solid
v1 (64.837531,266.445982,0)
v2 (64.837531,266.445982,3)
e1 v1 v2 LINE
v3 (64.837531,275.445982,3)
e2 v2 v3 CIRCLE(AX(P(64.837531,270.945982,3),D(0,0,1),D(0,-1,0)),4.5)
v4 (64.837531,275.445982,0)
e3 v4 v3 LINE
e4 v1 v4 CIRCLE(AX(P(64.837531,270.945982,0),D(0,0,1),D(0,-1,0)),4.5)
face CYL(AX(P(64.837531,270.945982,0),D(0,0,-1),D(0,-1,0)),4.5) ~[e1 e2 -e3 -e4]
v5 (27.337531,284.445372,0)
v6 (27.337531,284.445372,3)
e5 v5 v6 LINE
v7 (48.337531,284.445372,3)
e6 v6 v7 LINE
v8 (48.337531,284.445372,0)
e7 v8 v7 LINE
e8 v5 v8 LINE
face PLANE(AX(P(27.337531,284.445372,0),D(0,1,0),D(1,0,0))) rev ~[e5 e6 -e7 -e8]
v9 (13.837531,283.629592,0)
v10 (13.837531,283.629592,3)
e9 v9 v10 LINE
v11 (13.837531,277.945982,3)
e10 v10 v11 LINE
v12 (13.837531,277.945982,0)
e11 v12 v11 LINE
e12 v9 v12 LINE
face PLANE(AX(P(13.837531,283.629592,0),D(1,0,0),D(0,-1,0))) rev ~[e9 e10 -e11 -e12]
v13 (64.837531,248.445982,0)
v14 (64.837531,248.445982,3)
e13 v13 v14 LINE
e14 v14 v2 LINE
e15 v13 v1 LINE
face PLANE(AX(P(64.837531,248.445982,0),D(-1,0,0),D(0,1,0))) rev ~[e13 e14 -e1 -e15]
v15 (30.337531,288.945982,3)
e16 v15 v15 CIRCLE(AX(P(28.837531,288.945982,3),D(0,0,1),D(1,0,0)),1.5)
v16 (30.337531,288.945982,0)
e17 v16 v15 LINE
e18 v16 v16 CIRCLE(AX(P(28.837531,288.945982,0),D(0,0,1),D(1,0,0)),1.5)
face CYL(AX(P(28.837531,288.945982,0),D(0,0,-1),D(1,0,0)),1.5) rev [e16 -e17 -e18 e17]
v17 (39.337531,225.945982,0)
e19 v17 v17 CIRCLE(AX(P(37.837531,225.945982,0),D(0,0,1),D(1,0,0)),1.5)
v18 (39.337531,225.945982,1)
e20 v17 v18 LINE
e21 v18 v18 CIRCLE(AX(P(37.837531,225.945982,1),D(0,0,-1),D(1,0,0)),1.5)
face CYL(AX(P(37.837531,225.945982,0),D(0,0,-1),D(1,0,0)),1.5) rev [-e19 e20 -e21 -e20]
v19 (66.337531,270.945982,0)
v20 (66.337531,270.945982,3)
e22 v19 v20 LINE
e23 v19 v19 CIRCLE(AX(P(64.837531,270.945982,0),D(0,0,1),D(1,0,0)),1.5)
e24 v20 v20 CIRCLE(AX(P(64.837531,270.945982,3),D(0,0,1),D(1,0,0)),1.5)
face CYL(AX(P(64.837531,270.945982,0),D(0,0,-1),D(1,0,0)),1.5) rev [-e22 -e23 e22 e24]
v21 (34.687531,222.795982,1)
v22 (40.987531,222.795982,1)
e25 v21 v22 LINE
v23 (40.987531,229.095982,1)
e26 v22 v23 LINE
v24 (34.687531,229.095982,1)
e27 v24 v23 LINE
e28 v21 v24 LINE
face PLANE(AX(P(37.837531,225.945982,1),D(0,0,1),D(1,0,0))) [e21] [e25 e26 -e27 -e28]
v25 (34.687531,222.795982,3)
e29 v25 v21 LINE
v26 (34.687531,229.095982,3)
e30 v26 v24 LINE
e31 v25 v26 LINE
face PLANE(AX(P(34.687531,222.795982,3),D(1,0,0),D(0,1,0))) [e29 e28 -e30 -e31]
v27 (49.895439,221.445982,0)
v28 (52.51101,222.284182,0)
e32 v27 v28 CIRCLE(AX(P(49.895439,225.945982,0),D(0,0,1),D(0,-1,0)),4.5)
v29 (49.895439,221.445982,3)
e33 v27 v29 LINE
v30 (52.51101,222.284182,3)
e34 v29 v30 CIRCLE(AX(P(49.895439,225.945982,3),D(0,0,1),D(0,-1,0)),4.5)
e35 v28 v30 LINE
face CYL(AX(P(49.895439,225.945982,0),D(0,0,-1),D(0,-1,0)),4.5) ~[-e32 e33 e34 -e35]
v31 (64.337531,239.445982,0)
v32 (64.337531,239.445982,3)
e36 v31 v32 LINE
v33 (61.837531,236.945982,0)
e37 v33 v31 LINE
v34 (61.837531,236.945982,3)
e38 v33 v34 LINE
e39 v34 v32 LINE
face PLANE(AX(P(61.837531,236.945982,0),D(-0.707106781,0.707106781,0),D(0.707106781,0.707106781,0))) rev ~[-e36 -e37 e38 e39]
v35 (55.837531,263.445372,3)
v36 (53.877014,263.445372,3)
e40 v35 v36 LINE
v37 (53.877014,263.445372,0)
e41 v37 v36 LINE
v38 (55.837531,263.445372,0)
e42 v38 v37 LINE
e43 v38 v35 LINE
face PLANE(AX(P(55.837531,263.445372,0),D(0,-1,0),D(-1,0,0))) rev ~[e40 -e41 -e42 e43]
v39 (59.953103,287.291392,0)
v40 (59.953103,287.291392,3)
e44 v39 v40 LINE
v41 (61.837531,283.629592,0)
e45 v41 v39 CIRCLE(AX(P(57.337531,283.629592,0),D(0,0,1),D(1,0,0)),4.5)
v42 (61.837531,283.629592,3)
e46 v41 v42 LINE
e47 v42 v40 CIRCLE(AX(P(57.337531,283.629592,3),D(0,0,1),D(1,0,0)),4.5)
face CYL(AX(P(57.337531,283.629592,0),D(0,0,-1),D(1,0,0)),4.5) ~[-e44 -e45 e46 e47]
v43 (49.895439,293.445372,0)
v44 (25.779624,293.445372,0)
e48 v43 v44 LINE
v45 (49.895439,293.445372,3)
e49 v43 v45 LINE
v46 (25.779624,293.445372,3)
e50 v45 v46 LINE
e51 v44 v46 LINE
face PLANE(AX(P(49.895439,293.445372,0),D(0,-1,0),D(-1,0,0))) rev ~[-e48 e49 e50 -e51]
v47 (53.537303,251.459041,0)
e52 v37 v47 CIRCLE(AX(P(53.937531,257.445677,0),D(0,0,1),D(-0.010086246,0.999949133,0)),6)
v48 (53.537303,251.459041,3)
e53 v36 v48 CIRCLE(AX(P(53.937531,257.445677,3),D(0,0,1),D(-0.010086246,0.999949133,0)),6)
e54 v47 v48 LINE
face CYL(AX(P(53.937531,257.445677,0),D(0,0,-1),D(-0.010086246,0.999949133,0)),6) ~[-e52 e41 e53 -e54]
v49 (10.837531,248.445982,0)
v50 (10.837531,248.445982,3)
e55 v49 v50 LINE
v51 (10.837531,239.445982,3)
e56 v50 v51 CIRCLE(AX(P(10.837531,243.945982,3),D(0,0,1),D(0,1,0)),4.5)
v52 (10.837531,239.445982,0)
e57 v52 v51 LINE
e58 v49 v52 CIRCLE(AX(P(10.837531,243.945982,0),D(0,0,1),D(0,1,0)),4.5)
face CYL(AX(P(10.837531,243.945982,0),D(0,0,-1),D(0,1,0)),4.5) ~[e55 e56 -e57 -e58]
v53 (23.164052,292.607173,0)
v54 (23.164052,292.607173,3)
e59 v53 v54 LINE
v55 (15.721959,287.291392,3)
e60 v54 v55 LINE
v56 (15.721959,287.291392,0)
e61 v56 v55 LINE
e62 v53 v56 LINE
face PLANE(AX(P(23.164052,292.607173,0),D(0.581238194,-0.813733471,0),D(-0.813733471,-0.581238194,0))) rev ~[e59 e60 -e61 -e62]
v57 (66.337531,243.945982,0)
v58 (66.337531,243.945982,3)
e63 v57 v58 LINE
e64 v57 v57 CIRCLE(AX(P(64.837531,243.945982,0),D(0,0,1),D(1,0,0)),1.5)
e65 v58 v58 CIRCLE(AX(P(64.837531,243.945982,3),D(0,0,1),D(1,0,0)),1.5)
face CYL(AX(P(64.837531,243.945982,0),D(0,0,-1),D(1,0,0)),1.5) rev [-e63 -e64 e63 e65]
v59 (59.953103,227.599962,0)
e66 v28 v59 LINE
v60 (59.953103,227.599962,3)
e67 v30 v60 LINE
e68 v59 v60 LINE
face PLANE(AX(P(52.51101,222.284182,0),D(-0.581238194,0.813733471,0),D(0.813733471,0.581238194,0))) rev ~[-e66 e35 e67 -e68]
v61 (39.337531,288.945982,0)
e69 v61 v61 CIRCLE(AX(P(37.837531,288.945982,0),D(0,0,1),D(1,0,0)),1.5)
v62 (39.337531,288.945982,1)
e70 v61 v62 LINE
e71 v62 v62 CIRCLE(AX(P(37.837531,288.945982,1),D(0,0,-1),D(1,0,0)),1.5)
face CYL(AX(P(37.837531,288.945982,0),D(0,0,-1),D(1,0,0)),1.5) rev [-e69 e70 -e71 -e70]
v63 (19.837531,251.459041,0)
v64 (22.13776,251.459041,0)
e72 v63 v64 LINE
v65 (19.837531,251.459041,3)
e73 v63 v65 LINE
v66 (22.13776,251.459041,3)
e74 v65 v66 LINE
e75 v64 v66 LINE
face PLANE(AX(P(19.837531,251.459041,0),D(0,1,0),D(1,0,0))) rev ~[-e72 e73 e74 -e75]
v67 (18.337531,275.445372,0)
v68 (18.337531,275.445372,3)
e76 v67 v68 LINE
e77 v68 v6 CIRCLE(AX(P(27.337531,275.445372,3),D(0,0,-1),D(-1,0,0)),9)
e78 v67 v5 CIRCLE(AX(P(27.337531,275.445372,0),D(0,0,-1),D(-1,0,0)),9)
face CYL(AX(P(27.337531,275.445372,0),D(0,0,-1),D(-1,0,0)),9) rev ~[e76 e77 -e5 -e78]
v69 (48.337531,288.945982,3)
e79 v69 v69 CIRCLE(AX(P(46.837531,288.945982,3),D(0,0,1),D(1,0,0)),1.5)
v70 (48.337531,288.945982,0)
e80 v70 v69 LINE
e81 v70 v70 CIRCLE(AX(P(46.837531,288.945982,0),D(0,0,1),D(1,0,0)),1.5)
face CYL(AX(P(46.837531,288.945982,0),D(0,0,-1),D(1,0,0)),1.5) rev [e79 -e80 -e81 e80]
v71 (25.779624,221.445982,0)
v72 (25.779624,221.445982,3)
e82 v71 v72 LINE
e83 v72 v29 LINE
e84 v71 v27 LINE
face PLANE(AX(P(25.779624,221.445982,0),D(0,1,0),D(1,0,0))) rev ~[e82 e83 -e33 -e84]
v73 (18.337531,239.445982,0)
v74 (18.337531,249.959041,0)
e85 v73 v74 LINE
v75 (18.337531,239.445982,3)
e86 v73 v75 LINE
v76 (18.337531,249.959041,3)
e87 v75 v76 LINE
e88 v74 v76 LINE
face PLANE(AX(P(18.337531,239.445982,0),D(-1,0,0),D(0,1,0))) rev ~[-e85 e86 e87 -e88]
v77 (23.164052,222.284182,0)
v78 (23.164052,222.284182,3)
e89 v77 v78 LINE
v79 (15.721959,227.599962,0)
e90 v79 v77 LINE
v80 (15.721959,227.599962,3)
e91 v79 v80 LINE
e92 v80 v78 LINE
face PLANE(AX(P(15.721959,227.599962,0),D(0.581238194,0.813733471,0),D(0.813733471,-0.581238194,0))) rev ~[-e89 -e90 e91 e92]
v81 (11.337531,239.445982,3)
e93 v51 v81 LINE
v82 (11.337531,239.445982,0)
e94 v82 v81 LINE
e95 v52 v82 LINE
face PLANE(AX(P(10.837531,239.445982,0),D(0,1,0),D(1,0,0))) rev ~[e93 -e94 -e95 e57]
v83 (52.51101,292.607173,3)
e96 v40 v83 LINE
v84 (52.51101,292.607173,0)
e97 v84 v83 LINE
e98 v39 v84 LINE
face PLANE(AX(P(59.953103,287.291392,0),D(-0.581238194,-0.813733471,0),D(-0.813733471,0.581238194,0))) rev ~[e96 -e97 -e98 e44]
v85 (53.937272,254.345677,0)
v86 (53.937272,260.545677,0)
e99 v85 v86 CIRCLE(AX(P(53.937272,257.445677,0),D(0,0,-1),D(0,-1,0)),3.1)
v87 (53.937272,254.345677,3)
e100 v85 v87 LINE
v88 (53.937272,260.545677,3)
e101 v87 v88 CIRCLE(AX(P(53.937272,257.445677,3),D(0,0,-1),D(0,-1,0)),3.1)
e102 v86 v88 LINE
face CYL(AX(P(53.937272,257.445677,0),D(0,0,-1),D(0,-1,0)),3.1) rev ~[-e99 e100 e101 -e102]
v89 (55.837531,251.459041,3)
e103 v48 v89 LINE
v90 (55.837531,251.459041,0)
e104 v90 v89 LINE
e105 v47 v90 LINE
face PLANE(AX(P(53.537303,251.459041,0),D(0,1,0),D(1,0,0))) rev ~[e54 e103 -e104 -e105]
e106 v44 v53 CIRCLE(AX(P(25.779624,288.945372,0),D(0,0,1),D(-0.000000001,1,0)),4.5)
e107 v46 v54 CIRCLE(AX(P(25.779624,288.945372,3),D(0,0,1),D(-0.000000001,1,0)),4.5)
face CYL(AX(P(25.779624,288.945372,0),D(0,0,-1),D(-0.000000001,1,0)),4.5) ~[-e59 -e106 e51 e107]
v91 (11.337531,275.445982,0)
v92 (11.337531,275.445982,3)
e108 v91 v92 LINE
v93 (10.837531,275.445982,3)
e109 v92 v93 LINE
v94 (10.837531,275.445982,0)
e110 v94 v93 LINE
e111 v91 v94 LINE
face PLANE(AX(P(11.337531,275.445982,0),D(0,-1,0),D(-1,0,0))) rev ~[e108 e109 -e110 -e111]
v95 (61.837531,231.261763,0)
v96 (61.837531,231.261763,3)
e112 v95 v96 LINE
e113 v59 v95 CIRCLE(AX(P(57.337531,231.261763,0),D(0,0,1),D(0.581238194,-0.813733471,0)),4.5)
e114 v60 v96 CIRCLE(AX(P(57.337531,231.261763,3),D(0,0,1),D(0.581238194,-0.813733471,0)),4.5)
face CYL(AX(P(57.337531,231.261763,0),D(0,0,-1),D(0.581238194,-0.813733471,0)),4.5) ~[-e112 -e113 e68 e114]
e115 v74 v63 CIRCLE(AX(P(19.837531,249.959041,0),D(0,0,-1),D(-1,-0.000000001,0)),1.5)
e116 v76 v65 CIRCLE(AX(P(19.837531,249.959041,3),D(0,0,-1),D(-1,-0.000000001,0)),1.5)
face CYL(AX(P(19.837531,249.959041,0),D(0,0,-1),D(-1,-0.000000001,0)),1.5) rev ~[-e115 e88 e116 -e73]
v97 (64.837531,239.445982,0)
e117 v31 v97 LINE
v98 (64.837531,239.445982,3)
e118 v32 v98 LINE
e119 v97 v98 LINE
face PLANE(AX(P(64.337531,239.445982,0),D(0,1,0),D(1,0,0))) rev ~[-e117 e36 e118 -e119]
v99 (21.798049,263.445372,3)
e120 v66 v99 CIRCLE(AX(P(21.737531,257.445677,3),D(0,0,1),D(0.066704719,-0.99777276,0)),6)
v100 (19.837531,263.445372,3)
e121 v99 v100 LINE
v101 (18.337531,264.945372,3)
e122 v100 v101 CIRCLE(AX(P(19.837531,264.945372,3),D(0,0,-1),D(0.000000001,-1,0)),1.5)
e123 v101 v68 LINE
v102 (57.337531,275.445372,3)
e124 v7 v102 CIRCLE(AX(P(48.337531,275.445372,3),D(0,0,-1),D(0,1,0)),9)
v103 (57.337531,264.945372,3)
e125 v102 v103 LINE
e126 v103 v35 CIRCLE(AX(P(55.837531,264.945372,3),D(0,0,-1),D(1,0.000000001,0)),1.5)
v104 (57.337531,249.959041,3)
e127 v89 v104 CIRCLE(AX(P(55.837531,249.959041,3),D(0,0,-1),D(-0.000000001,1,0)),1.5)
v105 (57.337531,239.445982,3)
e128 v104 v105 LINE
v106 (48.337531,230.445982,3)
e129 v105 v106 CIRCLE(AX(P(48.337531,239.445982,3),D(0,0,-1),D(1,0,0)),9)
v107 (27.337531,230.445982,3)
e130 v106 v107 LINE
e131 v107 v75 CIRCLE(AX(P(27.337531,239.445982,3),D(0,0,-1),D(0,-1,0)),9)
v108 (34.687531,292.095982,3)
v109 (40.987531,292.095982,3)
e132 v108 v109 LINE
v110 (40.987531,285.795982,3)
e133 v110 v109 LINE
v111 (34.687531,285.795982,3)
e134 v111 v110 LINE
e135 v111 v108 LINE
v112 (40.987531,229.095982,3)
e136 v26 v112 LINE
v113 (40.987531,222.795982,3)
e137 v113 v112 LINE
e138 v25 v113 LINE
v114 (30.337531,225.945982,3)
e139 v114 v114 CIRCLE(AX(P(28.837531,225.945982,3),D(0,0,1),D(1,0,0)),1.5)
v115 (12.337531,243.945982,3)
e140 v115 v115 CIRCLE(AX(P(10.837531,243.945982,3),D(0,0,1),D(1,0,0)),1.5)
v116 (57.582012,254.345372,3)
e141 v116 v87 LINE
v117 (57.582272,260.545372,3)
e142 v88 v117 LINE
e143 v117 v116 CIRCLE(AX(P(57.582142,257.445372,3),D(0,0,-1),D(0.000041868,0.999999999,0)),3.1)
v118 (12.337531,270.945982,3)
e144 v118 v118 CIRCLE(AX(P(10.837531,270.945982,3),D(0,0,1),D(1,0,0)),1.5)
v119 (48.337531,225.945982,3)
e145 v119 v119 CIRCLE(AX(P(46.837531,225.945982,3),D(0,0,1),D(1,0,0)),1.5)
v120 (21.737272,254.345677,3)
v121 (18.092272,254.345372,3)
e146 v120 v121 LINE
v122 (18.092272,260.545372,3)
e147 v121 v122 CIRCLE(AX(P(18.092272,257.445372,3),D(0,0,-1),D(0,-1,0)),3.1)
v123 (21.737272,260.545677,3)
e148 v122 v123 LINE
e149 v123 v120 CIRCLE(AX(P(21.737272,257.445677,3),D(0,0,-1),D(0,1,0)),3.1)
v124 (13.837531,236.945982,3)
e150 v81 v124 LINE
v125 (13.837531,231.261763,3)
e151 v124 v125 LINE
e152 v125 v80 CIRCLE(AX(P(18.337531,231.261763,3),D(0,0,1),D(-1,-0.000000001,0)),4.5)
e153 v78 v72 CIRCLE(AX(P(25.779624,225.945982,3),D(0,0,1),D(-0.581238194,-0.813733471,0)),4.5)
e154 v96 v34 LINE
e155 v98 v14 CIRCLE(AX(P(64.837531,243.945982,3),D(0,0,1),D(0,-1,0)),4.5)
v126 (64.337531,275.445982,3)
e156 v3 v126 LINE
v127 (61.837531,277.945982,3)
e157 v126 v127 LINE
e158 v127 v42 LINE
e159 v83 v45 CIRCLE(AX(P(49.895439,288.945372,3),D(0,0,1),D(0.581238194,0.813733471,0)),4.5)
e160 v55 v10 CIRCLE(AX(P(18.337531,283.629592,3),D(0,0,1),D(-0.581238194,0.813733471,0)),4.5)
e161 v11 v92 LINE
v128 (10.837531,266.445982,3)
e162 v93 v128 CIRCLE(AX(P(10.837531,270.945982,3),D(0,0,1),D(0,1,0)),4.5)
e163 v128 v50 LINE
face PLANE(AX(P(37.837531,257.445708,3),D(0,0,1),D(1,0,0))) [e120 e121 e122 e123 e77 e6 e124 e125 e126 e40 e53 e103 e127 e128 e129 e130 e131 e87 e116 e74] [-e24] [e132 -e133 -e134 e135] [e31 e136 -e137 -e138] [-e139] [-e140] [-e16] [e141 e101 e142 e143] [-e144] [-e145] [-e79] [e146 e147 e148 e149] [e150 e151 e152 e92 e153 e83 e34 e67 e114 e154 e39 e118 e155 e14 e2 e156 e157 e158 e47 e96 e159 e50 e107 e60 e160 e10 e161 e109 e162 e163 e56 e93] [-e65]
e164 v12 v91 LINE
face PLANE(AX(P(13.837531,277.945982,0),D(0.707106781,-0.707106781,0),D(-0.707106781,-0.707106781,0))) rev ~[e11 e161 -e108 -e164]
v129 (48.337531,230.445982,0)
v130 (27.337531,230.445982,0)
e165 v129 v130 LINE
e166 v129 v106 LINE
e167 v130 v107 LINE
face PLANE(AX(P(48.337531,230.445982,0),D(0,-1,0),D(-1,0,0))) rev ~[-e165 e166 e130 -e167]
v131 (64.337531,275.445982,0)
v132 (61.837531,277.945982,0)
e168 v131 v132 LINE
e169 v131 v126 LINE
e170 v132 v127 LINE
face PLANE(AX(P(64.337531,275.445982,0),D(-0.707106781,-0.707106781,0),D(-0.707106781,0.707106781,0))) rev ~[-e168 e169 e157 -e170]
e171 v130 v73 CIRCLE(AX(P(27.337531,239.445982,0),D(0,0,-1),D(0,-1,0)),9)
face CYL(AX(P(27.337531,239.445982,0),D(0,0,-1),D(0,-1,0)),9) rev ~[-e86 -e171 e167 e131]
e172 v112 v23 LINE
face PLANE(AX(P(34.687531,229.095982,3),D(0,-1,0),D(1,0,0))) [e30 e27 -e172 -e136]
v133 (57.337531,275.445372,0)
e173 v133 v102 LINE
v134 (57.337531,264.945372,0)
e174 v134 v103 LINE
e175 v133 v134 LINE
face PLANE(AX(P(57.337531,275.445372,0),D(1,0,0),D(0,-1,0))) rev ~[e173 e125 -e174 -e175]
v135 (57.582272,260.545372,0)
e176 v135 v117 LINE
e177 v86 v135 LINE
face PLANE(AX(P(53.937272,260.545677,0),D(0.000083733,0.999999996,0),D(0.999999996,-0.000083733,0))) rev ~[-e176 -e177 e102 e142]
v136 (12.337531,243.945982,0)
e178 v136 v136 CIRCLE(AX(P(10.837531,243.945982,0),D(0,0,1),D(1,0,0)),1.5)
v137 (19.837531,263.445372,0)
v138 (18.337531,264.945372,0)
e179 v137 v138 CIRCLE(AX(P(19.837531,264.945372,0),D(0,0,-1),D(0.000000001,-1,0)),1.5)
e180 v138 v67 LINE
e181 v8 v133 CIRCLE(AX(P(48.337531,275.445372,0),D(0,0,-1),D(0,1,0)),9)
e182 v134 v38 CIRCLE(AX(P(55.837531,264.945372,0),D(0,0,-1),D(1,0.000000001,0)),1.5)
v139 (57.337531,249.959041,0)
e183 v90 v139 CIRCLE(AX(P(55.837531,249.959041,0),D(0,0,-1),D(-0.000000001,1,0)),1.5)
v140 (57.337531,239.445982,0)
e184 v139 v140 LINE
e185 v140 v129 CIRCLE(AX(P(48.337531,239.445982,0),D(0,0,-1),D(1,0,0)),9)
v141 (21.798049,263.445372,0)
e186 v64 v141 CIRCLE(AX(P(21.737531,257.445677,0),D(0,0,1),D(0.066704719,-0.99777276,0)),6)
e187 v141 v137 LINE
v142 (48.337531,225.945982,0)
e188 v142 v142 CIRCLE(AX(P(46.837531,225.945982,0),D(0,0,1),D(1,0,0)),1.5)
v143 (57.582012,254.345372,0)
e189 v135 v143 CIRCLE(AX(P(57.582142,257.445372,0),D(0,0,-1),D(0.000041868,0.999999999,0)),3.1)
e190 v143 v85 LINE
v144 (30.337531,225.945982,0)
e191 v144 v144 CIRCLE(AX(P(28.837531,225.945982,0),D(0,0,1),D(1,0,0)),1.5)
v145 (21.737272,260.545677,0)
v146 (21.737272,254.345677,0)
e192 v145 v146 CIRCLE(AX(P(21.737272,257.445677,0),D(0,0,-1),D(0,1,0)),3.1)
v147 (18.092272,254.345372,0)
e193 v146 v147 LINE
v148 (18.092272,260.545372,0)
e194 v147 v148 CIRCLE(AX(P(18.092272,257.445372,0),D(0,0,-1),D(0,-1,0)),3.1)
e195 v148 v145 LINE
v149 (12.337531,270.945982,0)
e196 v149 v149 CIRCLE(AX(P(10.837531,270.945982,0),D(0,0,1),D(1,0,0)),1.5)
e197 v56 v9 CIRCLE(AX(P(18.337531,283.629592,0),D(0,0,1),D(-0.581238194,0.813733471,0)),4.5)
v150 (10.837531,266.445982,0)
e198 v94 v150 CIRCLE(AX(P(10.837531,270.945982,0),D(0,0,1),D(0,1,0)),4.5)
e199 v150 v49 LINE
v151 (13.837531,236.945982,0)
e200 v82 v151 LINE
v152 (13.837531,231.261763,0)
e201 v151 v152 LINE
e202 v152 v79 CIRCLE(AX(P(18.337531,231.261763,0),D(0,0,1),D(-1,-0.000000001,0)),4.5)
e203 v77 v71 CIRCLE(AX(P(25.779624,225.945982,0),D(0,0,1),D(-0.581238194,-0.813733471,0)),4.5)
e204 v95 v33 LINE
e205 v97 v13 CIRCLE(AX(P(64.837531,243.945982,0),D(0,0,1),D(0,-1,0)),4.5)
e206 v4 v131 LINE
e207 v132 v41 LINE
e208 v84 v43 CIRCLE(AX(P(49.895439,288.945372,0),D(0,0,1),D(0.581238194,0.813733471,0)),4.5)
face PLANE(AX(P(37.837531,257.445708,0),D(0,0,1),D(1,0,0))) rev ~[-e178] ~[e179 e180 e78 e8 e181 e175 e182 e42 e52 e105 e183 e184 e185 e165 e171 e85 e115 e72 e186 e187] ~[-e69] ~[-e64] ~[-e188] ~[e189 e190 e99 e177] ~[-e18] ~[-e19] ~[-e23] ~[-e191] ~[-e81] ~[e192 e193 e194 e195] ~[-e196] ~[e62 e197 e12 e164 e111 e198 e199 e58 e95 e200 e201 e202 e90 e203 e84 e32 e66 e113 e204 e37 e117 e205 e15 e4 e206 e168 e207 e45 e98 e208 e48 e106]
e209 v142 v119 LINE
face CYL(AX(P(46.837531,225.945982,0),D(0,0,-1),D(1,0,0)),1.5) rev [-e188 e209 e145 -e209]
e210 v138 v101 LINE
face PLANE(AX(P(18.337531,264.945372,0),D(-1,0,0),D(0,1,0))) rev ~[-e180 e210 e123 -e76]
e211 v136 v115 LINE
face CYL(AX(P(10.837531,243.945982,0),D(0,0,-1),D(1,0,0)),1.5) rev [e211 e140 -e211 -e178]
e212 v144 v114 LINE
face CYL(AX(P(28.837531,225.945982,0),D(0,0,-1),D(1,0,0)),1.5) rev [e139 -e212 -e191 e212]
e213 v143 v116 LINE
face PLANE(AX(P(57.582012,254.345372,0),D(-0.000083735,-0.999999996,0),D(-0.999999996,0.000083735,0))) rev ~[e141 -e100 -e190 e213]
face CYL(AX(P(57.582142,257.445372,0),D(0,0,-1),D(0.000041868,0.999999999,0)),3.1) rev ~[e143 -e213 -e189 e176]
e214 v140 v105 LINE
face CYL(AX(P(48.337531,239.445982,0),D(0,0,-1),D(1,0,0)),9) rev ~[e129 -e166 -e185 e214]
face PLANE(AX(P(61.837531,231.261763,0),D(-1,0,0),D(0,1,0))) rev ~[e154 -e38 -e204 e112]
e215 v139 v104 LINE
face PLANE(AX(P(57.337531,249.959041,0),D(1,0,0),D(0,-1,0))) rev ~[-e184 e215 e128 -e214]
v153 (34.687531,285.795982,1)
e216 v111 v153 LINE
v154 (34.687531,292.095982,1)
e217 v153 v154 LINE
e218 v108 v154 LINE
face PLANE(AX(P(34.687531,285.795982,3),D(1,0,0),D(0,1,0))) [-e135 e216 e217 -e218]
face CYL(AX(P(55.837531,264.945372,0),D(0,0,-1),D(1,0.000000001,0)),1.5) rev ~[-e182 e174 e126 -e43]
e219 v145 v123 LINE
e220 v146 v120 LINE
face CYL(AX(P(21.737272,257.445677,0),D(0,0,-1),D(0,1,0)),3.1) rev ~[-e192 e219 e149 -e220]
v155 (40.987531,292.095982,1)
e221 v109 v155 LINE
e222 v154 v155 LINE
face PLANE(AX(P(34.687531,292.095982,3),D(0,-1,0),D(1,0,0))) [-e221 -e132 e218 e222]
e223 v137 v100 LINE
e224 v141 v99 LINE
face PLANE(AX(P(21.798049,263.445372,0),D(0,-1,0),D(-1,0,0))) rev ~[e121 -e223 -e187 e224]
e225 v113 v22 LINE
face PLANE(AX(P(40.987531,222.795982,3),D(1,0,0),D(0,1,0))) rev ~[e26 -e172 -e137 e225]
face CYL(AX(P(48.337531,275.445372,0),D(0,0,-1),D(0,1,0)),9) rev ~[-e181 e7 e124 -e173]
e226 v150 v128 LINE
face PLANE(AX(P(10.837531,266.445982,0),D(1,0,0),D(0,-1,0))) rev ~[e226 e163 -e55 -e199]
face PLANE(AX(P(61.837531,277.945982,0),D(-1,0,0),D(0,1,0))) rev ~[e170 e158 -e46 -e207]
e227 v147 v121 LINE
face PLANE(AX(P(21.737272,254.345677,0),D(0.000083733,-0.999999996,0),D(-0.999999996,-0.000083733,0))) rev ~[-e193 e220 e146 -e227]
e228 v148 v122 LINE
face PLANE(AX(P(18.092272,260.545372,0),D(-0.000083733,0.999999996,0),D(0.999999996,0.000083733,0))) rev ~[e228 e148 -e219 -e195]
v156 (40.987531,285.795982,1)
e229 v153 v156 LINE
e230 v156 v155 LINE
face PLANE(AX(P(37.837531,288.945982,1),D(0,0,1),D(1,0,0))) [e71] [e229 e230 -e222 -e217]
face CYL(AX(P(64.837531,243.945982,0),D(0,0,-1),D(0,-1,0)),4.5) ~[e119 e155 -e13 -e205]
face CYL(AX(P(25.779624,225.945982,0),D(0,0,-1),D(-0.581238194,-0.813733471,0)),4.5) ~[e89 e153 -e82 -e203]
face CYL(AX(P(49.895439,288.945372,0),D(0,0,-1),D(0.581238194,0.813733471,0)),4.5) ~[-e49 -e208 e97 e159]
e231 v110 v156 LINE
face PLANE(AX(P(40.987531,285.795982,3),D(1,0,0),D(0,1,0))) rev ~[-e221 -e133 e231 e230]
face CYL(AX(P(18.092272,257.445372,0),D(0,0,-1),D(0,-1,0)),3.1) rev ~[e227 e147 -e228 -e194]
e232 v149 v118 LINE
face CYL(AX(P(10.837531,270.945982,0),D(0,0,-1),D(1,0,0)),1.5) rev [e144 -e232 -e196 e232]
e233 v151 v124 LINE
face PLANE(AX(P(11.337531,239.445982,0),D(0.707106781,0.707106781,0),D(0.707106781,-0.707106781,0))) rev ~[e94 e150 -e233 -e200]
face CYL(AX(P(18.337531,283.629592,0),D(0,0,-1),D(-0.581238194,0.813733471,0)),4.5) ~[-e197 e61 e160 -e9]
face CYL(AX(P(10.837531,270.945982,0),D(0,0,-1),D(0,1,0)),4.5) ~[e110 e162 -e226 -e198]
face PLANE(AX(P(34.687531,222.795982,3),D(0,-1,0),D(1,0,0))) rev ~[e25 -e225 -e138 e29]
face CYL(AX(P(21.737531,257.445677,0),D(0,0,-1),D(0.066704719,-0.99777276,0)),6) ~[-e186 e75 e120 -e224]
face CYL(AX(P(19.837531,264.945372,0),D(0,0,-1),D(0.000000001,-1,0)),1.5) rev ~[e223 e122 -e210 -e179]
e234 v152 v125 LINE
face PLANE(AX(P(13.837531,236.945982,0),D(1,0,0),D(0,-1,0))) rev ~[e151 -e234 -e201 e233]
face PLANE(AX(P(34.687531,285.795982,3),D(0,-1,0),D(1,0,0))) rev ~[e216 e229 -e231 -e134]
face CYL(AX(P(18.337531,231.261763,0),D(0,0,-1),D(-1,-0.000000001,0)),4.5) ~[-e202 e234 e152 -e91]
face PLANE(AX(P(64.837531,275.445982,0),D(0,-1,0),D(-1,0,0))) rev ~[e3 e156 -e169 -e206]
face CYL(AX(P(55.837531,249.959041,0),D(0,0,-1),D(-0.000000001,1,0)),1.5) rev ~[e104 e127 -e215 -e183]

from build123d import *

# Parameters (mm, degrees)
MODEL_R                 = 1.5
SALIENTE_EXTRUIR1_DEPTH = 3
CROQUIS1_W              = 6.3
CROQUIS1_H              = 6.3
CORTAR_EXTRUIR1_DEPTH   = 2


with BuildPart() as part:
    # Model → Saliente-Extruir1 (new body)
    with BuildSketch(Plane.XY):
        with BuildLine():
            Line((64.337531364, 275.445982488), (61.837531364, 277.945982488))
            Line((61.837531364, 277.945982488), (61.837531364, 283.629591549))
            ThreePointArc((61.837531364, 283.629591549), (61.338785756, 285.688708663), (59.953103236, 287.29139217))
            Line((59.953103236, 287.29139217), (52.511010495, 292.607172698))
            ThreePointArc((52.511010495, 292.607172698), (51.268737063, 293.230701866), (49.895438624, 293.445372078))
            Line((49.895438624, 293.445372078), (25.779624104, 293.445372078))
            ThreePointArc((25.779624104, 293.445372078), (24.406325665, 293.230701866), (23.164052233, 292.607172698))
            Line((23.164052233, 292.607172698), (15.721959492, 287.29139217))
            ThreePointArc((15.721959492, 287.29139217), (14.336276972, 285.688708663), (13.837531364, 283.629591549))
            Line((13.837531364, 283.629591549), (13.837531364, 277.945982488))
            Line((13.837531364, 277.945982488), (11.337531364, 275.445982488))
            Line((11.337531364, 275.445982488), (10.837531364, 275.445982488))
            ThreePointArc((10.837531364, 275.445982488), (6.337531364, 270.945982488), (10.837531364, 266.445982488))
            Line((10.837531364, 266.445982488), (10.837531364, 248.445982488))
            ThreePointArc((10.837531364, 248.445982488), (6.337531364, 243.945982488), (10.837531364, 239.445982488))
            Line((10.837531364, 239.445982488), (11.337531364, 239.445982488))
            Line((11.337531364, 239.445982488), (13.837531364, 236.945982488))
            Line((13.837531364, 236.945982488), (13.837531364, 231.261763016))
            ThreePointArc((13.837531364, 231.261763016), (14.336276972, 229.202645903), (15.721959492, 227.599962396))
            Line((15.721959492, 227.599962396), (23.164052233, 222.284181867))
            ThreePointArc((23.164052233, 222.284181867), (24.406325665, 221.660652699), (25.779624104, 221.445982488))
            Line((25.779624104, 221.445982488), (49.895438624, 221.445982488))
            ThreePointArc((49.895438624, 221.445982488), (51.268737063, 221.660652699), (52.511010495, 222.284181867))
            Line((52.511010495, 222.284181867), (59.953103236, 227.599962396))
            ThreePointArc((59.953103236, 227.599962396), (61.338785756, 229.202645903), (61.837531364, 231.261763016))
            Line((61.837531364, 231.261763016), (61.837531364, 236.945982488))
            Line((61.837531364, 236.945982488), (64.337531364, 239.445982488))
            Line((64.337531364, 239.445982488), (64.837531364, 239.445982488))
            ThreePointArc((64.837531364, 239.445982488), (69.337531364, 243.945982488), (64.837531364, 248.445982488))
            Line((64.837531364, 248.445982488), (64.837531364, 266.445982488))
            ThreePointArc((64.837531364, 266.445982488), (69.337531364, 270.945982488), (64.837531364, 275.445982488))
            Line((64.837531364, 275.445982488), (64.337531364, 275.445982488))
        make_face()
        with Locations((28.837531364, 225.945982488)):
            Circle(MODEL_R, mode=Mode.SUBTRACT)
        with Locations((10.837531364, 243.945982488)):
            Circle(MODEL_R, mode=Mode.SUBTRACT)
        with BuildLine():
            ThreePointArc((18.092271793, 254.345372089), (14.992271793, 257.445372089), (18.092271793, 260.545372089))
            Line((18.092271793, 260.545372089), (21.737271793, 260.545677294))
            ThreePointArc((21.737271793, 260.545677294), (24.837271793, 257.445677294), (21.737271793, 254.345677294))
            Line((21.737271793, 254.345677294), (18.092271793, 254.345372089))
        make_face(mode=Mode.SUBTRACT)
        with Locations((37.837531364, 225.945982488)):
            Circle(MODEL_R, mode=Mode.SUBTRACT)
        with Locations((46.837531364, 225.945982488)):
            Circle(MODEL_R, mode=Mode.SUBTRACT)
        with Locations((64.837531364, 243.945982488)):
            Circle(MODEL_R, mode=Mode.SUBTRACT)
        with BuildLine():
            ThreePointArc((53.937271793, 254.345677294), (50.837271793, 257.445677294), (53.937271793, 260.545677294))
            Line((53.937271793, 260.545677294), (57.582271793, 260.545372089))
            ThreePointArc((57.582271793, 260.545372089), (60.682141998, 257.445242304), (57.582012214, 254.3453721))
            Line((57.582012214, 254.3453721), (53.937271793, 254.345677294))
        make_face(mode=Mode.SUBTRACT)
        with Locations((10.837531364, 270.945982488)):
            Circle(MODEL_R, mode=Mode.SUBTRACT)
        with Locations((28.837531364, 288.945982488)):
            Circle(MODEL_R, mode=Mode.SUBTRACT)
        with BuildLine():
            Line((18.337531364, 264.945372078), (18.337531364, 275.445372078))
            ThreePointArc((18.337531364, 275.445372078), (20.973570333, 281.809333109), (27.337531364, 284.445372078))
            Line((27.337531364, 284.445372078), (48.337531364, 284.445372078))
            ThreePointArc((48.337531364, 284.445372078), (54.701492395, 281.809333109), (57.337531364, 275.445372078))
            Line((57.337531364, 275.445372078), (57.337531364, 264.945372078))
            ThreePointArc((57.337531364, 264.945372078), (56.898191536, 263.884711906), (55.837531364, 263.445372078))
            Line((55.837531364, 263.445372078), (53.998048837, 263.445372078))
            Line((53.998048837, 263.445372078), (53.877013891, 263.445372078))
            ThreePointArc((53.877013891, 263.445372078), (47.939939639, 257.615658143), (53.537303053, 251.459040723))
            Line((53.537303053, 251.459040723), (55.837531364, 251.459040723))
            ThreePointArc((55.837531364, 251.459040723), (56.898191536, 251.019700895), (57.337531364, 249.959040723))
            Line((57.337531364, 249.959040723), (57.337531364, 239.445982488))
            ThreePointArc((57.337531364, 239.445982488), (54.701492395, 233.082021457), (48.337531364, 230.445982488))
            Line((48.337531364, 230.445982488), (27.337531364, 230.445982488))
            ThreePointArc((27.337531364, 230.445982488), (20.973570333, 233.082021457), (18.337531364, 239.445982488))
            Line((18.337531364, 239.445982488), (18.337531364, 249.959040723))
            ThreePointArc((18.337531364, 249.959040723), (18.776871192, 251.019700895), (19.837531364, 251.459040723))
            Line((19.837531364, 251.459040723), (22.137759676, 251.459040723))
            ThreePointArc((22.137759676, 251.459040723), (27.735123089, 257.615658143), (21.798048837, 263.445372078))
            Line((21.798048837, 263.445372078), (21.677013891, 263.445372078))
            Line((21.677013891, 263.445372078), (19.837531364, 263.445372078))
            ThreePointArc((19.837531364, 263.445372078), (18.776871192, 263.884711906), (18.337531364, 264.945372078))
        make_face(mode=Mode.SUBTRACT)
        with Locations((64.837531364, 270.945982488)):
            Circle(MODEL_R, mode=Mode.SUBTRACT)
        with Locations((37.837531364, 288.945982488)):
            Circle(MODEL_R, mode=Mode.SUBTRACT)
        with Locations((46.837531364, 288.945982488)):
            Circle(MODEL_R, mode=Mode.SUBTRACT)
    extrude(amount=SALIENTE_EXTRUIR1_DEPTH)

    # Croquis1 → Cortar-Extruir1 (cut)
    with BuildSketch(Plane.XY.offset(3)):
        with Locations((37.837531364, 288.945982488)):
            Rectangle(CROQUIS1_W, CROQUIS1_H)
        with Locations((37.837531364, 225.945982488)):
            Rectangle(CROQUIS1_W, CROQUIS1_H)
    extrude(amount=-CORTAR_EXTRUIR1_DEPTH, mode=Mode.SUBTRACT)


solid = part.part
